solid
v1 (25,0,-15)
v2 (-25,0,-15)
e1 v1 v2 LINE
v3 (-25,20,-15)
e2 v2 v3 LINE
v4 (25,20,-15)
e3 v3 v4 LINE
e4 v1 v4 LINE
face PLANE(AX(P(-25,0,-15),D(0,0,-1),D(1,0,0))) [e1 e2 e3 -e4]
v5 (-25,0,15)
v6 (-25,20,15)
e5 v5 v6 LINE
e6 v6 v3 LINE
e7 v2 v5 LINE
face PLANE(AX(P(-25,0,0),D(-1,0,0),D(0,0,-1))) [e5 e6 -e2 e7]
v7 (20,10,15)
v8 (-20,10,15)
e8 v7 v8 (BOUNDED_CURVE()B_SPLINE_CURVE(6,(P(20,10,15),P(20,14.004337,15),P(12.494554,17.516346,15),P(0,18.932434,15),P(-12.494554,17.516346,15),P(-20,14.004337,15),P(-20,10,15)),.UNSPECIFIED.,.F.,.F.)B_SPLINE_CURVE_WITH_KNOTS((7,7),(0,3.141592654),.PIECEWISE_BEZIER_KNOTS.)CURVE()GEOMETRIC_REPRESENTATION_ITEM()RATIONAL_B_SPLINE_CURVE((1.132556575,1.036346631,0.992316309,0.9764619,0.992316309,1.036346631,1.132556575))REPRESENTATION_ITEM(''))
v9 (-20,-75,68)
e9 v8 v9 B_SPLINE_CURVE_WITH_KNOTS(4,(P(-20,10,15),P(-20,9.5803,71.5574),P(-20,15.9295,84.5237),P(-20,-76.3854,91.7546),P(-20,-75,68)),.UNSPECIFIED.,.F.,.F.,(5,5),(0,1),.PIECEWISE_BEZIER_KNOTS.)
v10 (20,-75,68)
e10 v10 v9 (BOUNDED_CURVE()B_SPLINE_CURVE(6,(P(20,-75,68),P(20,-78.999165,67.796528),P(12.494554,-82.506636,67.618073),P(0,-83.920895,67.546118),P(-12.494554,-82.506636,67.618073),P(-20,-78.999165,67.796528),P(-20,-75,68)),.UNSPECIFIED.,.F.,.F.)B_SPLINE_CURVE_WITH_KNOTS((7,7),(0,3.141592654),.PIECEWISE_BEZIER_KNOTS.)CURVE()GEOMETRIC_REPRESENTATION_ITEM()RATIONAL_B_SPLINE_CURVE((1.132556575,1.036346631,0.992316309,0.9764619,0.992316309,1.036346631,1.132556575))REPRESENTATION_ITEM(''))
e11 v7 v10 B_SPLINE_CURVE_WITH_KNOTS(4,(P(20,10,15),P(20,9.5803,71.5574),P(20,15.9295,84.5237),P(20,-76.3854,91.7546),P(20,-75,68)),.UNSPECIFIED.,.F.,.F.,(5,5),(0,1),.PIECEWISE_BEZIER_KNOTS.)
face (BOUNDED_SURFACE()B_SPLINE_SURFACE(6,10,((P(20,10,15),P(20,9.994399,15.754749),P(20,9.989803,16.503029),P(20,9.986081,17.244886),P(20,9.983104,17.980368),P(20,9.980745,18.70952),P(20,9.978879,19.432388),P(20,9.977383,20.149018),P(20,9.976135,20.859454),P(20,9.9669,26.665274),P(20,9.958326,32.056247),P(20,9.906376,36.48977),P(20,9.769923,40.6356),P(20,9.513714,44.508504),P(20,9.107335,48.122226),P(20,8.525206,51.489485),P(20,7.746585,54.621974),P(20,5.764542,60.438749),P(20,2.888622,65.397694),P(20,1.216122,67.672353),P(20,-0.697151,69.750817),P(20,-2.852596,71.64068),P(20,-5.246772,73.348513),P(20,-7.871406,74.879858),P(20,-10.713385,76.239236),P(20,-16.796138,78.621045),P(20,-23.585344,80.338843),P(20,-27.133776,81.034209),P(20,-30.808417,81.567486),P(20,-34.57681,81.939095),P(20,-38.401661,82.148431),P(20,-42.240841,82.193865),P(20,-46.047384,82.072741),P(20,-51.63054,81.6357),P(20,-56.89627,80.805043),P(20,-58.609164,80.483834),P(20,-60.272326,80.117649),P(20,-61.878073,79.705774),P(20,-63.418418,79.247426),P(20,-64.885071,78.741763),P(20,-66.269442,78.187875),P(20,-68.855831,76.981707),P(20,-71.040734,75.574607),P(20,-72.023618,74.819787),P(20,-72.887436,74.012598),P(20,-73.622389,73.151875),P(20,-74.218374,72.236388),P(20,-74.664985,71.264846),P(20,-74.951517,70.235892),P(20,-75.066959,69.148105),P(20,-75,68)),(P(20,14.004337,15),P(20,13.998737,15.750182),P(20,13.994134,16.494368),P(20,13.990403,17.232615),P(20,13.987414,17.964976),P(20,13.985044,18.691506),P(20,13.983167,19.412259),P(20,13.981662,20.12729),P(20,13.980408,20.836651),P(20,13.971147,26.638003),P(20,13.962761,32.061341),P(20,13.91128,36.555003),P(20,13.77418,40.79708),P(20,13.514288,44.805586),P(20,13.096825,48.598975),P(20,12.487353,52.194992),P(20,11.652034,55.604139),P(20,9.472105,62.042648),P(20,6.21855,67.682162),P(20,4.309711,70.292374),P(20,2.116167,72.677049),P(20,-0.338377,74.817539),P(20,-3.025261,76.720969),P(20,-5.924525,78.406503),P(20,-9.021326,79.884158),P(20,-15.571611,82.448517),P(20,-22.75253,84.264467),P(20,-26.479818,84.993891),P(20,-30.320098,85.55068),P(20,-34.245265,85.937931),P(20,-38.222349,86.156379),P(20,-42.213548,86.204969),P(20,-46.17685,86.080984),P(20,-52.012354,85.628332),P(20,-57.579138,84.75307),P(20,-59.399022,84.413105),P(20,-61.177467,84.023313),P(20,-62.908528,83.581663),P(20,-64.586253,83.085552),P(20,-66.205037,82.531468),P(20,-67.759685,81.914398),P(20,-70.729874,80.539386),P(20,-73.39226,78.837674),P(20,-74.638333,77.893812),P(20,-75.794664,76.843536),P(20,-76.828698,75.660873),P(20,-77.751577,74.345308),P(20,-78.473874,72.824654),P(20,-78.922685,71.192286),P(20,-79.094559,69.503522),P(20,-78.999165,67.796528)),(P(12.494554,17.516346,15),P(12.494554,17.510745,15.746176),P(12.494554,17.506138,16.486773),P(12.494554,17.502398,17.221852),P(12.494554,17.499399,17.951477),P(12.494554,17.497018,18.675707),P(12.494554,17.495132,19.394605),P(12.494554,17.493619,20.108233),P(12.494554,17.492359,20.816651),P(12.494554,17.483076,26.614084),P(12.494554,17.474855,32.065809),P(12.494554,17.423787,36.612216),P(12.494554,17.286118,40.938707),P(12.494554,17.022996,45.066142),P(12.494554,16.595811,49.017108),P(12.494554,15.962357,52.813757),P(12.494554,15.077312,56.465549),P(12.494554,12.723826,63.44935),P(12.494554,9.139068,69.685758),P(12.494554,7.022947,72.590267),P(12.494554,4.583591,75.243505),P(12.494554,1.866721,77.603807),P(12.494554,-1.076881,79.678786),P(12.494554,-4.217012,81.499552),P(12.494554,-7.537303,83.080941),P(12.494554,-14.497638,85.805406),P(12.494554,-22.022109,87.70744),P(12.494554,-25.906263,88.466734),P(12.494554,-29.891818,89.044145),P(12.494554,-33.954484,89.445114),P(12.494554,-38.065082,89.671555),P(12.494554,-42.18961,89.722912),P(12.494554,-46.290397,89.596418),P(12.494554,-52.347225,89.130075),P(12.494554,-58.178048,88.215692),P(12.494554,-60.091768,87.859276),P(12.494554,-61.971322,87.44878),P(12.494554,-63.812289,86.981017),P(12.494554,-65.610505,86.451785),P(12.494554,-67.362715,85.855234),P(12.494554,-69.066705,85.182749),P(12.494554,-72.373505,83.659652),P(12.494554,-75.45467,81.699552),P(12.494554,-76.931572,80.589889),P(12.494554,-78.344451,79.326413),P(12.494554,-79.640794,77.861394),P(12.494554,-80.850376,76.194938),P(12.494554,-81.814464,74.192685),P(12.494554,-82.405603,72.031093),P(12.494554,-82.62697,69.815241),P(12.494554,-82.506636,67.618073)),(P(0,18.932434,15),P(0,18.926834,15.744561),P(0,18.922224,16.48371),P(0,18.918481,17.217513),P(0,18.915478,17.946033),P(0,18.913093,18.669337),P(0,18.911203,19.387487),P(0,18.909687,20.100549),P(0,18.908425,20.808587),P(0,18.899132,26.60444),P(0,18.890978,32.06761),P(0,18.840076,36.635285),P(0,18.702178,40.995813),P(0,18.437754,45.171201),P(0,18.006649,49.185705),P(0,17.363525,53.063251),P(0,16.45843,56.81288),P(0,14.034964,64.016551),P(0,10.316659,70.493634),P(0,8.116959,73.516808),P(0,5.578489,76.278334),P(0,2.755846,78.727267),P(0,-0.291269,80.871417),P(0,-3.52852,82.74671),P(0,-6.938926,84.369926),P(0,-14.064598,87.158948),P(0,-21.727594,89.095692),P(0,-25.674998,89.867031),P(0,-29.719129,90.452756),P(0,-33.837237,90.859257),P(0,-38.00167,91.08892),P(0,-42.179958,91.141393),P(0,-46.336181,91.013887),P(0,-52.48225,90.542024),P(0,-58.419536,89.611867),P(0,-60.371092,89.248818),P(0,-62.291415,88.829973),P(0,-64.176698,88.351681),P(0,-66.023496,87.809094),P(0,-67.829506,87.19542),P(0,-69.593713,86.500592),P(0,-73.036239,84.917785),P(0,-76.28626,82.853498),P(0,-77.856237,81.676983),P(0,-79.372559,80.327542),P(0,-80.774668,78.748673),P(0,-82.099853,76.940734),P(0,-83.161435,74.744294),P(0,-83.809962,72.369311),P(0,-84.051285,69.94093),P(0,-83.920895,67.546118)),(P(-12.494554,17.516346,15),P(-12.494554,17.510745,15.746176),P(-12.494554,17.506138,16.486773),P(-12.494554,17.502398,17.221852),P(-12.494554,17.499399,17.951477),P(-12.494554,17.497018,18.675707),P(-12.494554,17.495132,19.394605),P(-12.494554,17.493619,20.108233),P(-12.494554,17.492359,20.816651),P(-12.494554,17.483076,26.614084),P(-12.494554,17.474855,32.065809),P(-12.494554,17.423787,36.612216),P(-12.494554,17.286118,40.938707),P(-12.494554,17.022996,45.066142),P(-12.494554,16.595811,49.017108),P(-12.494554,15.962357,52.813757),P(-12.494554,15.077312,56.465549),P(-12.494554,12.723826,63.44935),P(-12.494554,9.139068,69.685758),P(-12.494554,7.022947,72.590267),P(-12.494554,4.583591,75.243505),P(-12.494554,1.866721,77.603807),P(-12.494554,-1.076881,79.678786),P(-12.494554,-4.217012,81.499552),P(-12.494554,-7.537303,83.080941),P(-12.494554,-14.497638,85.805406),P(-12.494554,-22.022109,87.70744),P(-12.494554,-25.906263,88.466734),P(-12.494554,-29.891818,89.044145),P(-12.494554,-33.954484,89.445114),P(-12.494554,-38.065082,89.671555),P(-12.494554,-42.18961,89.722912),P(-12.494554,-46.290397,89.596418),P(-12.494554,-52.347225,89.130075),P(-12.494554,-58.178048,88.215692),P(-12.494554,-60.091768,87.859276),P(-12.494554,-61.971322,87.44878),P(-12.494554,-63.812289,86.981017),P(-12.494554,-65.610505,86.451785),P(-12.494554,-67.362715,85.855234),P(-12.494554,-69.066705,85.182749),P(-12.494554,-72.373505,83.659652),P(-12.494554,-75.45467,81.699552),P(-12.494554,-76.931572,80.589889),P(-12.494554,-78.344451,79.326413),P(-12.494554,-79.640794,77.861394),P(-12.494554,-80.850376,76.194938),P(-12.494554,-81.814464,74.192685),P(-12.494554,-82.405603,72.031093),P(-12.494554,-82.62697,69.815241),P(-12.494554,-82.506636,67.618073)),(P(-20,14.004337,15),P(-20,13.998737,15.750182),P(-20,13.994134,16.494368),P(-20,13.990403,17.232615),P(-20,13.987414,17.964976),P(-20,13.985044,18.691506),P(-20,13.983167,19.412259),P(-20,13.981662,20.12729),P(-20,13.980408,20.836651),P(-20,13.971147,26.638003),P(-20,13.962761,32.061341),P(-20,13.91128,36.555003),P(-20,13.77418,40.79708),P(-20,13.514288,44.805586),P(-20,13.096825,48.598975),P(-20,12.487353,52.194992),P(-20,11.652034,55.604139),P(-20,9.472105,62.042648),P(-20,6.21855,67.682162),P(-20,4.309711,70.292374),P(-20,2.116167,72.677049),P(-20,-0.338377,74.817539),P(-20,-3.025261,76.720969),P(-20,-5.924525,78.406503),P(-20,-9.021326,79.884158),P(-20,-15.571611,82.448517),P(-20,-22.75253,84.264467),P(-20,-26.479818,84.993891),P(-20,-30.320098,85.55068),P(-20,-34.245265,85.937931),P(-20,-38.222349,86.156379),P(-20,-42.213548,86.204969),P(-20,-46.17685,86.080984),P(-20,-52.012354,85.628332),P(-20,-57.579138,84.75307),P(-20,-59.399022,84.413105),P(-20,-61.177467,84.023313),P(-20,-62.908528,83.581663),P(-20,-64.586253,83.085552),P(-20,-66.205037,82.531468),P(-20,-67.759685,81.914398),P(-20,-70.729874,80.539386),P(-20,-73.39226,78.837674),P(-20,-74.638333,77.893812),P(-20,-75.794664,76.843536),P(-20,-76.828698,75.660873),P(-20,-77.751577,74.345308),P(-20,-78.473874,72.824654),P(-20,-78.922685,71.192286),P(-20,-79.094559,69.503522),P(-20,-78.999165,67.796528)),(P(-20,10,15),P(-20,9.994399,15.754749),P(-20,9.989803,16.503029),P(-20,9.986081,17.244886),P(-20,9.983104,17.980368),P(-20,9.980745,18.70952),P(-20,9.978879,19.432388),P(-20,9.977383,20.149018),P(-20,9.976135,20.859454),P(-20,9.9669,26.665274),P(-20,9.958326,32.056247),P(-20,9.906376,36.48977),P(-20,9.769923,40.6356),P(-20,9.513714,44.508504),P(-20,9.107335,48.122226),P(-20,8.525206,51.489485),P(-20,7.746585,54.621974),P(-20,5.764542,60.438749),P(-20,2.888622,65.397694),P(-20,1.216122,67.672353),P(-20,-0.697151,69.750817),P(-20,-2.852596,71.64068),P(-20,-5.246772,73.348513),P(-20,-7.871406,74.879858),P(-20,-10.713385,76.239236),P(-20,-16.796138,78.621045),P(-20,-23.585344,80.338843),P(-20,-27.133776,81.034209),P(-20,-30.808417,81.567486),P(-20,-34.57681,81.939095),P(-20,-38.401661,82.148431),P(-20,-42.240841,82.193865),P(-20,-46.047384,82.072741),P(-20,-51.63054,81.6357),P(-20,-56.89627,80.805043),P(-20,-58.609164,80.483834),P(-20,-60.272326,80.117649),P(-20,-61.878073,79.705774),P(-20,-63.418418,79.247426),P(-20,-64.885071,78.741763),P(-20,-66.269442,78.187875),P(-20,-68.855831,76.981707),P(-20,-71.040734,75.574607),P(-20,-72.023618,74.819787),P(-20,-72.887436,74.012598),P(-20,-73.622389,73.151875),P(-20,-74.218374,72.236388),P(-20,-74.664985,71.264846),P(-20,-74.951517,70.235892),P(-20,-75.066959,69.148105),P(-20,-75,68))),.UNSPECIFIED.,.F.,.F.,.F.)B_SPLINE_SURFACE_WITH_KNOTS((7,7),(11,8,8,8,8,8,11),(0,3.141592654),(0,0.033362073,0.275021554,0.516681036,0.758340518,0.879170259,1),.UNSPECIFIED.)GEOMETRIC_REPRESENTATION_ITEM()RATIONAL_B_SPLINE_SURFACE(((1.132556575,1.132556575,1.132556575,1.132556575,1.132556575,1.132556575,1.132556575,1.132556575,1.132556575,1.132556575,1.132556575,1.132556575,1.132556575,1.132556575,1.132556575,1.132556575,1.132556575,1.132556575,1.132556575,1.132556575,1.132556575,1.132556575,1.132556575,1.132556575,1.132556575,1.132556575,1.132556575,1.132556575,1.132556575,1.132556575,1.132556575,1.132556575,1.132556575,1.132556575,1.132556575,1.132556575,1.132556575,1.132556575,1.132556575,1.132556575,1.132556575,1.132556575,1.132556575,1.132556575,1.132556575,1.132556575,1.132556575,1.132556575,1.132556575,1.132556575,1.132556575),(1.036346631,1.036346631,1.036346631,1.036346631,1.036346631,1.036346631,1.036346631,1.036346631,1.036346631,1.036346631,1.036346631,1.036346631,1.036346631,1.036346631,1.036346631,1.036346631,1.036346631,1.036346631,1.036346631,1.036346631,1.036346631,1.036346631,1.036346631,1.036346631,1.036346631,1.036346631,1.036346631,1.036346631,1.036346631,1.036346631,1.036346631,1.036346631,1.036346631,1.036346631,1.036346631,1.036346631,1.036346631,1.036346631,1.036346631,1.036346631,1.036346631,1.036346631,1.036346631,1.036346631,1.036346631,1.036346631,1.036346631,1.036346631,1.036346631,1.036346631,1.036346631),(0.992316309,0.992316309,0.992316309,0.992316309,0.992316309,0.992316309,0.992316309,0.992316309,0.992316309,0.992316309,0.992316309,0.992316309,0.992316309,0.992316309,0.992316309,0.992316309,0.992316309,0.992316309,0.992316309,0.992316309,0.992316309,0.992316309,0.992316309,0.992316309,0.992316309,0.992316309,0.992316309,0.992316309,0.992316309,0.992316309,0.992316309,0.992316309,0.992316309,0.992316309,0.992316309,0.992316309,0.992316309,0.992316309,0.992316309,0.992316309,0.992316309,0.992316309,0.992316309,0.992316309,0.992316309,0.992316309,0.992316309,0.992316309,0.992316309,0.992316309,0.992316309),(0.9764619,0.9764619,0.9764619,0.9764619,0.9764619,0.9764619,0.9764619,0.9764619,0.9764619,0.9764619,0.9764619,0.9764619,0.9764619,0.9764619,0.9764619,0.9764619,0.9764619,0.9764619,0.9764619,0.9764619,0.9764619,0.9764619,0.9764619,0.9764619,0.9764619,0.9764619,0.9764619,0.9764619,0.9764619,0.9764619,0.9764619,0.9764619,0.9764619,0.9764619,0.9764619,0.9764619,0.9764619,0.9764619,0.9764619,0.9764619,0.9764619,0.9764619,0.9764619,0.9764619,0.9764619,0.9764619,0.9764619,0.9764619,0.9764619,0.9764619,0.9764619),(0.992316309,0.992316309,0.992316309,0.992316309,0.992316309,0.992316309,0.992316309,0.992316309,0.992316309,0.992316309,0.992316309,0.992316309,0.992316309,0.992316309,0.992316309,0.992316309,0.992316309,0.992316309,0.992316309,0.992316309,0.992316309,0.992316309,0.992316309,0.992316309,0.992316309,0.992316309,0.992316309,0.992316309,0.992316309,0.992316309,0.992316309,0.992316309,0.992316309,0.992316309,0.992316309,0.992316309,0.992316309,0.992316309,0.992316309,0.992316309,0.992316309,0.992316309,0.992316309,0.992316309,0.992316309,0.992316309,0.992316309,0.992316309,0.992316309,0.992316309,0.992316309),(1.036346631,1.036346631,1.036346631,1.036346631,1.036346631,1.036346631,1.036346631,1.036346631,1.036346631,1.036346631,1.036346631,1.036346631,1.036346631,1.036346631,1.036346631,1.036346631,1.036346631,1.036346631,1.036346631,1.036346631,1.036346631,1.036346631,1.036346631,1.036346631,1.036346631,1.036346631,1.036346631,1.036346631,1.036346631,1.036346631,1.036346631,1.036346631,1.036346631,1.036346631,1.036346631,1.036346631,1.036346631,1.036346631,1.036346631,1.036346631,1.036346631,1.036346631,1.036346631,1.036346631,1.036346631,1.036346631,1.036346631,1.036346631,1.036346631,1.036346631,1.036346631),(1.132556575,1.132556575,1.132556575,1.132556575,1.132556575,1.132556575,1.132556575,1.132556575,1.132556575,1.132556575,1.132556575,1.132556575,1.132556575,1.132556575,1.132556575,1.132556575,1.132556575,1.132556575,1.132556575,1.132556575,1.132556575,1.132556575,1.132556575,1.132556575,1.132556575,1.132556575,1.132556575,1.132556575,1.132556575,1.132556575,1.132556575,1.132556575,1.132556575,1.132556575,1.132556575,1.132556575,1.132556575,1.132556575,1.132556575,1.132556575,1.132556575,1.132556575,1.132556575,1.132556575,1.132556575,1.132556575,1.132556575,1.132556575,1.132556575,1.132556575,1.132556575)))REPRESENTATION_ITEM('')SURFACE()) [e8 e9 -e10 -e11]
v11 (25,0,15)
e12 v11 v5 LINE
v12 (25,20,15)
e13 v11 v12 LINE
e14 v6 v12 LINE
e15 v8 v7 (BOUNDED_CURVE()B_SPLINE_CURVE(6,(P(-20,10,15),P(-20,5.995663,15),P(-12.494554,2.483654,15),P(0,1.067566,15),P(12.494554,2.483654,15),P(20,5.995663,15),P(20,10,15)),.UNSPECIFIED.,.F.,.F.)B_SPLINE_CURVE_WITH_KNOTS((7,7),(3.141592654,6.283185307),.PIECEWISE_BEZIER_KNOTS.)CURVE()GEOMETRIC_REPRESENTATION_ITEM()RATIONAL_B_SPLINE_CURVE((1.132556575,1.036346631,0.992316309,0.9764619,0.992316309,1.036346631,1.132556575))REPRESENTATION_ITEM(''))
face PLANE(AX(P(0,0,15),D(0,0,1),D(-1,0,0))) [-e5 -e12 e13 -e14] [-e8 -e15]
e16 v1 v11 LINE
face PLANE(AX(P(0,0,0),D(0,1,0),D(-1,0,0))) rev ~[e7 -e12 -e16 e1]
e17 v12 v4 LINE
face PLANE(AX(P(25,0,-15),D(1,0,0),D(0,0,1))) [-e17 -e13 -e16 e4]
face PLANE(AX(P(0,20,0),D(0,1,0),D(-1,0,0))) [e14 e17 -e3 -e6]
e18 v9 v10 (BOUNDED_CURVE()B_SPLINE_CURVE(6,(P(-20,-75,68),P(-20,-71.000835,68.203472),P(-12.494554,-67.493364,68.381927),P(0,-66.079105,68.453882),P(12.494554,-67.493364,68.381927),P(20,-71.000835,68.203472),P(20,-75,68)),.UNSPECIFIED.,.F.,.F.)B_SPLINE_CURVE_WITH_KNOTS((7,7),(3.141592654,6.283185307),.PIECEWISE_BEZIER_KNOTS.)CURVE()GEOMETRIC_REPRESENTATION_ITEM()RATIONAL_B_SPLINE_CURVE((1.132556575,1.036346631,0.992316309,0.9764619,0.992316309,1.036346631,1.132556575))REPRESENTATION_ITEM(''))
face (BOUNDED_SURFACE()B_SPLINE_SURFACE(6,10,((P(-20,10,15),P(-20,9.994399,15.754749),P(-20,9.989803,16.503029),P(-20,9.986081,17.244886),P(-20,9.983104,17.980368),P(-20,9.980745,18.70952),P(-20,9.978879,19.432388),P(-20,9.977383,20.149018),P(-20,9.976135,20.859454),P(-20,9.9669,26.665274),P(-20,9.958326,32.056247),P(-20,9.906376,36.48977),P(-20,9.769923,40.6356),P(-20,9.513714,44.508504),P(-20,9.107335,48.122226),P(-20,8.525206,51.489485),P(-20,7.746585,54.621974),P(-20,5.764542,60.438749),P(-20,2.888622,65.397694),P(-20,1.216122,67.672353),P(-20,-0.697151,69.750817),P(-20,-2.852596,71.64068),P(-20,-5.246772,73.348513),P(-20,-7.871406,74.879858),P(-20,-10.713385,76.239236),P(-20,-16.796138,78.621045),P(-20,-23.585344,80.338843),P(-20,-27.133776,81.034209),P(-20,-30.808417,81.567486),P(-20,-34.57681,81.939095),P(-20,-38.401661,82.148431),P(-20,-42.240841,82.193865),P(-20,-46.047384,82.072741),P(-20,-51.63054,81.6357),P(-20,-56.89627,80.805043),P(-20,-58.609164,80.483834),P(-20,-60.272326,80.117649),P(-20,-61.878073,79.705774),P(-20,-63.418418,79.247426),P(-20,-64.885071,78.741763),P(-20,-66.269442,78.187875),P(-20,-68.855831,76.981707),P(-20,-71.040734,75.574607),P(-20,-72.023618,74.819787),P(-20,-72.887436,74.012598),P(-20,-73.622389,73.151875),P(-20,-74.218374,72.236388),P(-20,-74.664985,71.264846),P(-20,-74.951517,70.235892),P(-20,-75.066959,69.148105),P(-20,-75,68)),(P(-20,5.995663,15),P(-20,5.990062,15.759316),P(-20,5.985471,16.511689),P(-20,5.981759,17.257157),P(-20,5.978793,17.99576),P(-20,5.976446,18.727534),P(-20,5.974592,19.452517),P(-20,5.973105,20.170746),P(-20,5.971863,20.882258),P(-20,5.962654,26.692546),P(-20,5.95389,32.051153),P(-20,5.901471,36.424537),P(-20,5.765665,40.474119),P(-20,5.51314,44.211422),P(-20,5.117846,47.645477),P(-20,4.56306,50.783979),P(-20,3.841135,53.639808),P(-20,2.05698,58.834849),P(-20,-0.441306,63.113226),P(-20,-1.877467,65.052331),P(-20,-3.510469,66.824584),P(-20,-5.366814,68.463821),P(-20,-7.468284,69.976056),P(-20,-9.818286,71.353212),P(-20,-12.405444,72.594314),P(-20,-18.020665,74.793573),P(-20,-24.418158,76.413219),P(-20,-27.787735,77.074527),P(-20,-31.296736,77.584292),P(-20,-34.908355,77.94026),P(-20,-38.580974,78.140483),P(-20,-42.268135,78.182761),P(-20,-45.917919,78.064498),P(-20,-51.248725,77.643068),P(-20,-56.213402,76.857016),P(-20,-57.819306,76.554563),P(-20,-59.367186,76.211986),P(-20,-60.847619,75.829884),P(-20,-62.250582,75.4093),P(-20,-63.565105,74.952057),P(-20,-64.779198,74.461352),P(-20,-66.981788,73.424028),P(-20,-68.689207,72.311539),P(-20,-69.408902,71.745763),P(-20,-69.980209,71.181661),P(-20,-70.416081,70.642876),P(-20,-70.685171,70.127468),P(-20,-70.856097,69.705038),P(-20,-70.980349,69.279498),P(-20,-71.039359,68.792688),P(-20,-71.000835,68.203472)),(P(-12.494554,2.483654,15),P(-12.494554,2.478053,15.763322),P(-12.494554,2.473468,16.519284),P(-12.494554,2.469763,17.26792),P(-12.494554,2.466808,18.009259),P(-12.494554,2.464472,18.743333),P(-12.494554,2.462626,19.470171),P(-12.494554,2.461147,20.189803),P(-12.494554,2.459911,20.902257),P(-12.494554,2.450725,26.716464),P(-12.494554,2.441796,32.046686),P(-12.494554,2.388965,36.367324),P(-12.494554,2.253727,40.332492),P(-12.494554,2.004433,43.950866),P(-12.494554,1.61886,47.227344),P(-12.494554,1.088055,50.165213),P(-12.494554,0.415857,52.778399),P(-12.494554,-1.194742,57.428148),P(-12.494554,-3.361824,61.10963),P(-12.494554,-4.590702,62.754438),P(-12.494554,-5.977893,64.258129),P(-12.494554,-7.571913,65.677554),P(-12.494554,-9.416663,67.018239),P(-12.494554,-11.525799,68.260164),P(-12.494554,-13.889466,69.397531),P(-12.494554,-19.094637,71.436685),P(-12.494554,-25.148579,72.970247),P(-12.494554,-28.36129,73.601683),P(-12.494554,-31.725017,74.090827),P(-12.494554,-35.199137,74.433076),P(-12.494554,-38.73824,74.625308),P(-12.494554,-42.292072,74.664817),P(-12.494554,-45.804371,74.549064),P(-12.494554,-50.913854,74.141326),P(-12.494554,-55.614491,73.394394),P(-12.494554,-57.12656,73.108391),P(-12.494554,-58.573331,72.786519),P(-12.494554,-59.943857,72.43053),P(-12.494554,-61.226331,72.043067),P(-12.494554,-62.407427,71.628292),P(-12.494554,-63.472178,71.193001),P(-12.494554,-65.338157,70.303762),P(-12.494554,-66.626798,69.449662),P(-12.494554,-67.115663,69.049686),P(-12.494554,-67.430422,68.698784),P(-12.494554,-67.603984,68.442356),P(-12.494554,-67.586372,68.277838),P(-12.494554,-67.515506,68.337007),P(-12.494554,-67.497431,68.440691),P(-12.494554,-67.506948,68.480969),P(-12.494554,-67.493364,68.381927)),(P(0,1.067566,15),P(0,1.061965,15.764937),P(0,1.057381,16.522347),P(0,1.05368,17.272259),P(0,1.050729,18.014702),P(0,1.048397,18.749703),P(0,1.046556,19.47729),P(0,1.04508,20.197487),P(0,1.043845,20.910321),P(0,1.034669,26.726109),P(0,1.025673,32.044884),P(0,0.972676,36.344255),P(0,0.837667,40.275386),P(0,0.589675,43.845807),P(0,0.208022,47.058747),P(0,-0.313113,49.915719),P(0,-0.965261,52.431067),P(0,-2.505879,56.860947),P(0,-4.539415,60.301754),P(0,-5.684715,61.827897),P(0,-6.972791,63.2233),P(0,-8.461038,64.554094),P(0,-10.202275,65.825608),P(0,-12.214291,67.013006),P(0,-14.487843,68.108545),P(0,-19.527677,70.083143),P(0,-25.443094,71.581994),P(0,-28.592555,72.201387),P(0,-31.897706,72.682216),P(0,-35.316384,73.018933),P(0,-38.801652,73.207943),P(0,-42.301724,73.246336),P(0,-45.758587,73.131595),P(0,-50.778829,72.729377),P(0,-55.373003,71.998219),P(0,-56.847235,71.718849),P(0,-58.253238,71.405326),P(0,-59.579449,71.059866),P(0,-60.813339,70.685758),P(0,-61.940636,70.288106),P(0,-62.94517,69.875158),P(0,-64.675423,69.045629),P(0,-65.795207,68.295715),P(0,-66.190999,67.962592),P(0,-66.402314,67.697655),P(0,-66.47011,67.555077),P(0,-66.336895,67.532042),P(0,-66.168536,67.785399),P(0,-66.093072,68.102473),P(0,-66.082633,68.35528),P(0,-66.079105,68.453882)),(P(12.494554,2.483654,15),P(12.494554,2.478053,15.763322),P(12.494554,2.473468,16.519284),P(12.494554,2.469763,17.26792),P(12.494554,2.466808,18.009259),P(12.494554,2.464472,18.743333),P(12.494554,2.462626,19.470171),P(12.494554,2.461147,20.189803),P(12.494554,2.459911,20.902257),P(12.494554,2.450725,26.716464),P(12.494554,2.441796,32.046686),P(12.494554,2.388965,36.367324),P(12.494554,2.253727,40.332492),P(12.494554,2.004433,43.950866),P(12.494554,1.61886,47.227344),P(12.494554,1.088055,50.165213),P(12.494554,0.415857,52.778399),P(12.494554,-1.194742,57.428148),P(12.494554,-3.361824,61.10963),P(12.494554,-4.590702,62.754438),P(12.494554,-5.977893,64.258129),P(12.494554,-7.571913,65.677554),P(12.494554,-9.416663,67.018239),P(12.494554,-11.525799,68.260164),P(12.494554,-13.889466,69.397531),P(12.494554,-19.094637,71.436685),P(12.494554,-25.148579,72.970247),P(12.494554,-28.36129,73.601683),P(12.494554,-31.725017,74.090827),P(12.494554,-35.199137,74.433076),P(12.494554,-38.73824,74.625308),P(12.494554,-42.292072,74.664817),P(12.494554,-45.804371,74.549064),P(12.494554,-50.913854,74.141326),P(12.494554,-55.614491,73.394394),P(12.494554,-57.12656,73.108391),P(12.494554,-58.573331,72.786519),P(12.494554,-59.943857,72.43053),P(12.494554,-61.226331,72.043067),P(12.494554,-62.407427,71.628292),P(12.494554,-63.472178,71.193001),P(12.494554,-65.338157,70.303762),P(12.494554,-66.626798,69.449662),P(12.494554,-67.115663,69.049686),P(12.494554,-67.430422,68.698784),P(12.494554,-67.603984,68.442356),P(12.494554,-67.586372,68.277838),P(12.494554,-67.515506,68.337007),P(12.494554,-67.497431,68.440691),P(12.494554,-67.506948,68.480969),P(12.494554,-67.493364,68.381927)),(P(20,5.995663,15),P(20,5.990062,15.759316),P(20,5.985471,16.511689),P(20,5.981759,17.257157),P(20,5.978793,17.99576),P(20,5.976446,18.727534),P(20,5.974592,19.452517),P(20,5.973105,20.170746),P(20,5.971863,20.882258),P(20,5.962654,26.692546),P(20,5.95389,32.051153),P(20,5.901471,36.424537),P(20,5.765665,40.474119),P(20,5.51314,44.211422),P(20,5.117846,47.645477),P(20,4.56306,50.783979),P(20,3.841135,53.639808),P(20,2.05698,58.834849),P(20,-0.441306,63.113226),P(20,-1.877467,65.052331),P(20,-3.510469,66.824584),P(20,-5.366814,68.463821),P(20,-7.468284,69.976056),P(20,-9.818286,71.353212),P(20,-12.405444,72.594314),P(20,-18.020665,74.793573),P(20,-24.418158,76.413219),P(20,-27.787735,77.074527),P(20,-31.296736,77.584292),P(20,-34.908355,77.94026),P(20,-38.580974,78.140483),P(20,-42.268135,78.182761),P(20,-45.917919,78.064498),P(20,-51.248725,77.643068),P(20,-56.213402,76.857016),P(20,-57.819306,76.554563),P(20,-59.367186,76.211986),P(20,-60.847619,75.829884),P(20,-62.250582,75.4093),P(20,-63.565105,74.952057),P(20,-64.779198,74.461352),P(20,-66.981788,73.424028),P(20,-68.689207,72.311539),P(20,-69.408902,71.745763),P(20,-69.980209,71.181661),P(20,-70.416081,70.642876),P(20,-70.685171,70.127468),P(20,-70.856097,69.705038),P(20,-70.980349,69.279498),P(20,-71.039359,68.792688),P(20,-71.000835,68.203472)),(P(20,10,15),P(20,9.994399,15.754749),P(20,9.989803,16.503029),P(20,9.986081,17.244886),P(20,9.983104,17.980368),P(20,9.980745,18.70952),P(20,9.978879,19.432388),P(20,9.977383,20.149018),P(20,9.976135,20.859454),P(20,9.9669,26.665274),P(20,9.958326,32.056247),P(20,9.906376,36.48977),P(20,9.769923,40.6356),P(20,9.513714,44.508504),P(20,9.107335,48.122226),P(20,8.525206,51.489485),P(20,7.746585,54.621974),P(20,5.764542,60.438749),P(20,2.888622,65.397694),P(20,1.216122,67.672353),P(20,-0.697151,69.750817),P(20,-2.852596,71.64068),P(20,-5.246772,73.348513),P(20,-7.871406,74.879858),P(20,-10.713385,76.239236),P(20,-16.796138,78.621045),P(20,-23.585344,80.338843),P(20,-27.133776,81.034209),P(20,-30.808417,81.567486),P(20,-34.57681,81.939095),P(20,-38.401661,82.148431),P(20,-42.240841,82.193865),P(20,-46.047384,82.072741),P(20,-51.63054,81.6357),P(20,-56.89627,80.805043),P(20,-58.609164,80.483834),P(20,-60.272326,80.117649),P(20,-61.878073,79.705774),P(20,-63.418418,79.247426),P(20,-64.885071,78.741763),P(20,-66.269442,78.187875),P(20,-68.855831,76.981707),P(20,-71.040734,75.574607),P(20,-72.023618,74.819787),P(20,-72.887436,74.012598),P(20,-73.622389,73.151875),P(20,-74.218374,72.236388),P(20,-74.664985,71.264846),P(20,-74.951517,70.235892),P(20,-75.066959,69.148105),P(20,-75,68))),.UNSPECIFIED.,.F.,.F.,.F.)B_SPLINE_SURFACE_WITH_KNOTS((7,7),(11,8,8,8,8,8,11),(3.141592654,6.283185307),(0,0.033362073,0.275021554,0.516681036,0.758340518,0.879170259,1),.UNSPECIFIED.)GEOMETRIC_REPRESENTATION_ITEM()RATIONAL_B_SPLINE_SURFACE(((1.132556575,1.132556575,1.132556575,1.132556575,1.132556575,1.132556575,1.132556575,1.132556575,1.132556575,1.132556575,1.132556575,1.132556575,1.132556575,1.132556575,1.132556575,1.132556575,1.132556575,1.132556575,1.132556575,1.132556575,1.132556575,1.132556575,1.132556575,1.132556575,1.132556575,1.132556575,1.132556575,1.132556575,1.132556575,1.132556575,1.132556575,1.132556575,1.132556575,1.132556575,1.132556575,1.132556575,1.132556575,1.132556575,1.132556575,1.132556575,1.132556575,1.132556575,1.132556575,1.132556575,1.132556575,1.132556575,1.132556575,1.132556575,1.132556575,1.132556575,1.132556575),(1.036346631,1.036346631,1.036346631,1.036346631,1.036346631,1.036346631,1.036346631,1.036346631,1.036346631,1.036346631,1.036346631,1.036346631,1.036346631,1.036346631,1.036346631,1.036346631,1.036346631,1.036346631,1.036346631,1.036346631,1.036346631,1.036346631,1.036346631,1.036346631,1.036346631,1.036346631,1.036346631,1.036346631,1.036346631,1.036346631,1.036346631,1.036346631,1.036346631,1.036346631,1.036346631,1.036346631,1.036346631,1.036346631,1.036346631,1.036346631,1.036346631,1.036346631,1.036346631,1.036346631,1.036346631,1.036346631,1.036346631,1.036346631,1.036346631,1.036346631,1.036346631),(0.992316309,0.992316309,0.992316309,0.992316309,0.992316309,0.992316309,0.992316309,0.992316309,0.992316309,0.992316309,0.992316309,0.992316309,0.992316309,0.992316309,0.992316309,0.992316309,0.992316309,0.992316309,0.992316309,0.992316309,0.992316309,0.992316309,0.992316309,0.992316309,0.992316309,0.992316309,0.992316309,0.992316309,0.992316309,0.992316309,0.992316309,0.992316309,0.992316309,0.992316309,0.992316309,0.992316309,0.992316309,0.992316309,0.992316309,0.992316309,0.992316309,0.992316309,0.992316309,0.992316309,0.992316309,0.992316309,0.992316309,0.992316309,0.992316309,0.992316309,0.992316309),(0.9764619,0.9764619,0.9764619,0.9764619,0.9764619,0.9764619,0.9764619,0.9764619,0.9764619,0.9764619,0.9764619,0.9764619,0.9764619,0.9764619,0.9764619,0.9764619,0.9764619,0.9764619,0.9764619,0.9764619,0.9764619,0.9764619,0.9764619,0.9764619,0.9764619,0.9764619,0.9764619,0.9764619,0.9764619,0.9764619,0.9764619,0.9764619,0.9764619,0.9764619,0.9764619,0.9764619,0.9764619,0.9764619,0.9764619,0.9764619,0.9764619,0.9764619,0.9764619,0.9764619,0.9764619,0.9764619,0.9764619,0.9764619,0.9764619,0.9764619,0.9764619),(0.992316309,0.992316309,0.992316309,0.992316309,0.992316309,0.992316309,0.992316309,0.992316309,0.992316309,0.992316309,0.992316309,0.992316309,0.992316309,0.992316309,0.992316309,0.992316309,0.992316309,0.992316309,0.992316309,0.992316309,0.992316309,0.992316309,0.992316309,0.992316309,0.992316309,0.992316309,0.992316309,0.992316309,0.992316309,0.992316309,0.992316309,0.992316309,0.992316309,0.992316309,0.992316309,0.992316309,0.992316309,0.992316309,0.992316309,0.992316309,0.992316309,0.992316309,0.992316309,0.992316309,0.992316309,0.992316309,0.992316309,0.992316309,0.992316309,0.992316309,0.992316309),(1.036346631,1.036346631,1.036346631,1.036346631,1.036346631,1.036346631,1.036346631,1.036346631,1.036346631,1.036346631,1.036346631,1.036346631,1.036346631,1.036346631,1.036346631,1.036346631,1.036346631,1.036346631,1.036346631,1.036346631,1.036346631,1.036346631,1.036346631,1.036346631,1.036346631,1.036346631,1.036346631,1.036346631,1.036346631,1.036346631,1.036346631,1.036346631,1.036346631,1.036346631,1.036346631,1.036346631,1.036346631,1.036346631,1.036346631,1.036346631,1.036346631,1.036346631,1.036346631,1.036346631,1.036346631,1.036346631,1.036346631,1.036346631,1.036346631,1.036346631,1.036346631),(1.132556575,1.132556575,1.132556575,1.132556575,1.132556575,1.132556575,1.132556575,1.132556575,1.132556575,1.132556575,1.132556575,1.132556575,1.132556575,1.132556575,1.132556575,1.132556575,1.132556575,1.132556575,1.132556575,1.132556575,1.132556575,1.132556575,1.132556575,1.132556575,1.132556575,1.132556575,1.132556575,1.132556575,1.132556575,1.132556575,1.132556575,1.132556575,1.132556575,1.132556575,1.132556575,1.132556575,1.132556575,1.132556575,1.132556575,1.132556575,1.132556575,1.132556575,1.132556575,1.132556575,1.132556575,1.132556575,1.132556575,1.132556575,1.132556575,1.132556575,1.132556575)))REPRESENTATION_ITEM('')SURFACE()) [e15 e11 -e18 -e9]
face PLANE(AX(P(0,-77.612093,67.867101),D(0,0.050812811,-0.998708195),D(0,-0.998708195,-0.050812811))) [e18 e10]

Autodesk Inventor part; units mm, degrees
ref_plane "YZ Plane" through (0, 0, 0) normal (1, 0, 0) x (0, 1, 0)
ref_plane "XZ Plane" through (0, 0, 0) normal (0, 1, 0) x (-1, 0, 0)
sketch "Skizze1" plane through (0, 0, 0) normal (0, 1, 0) x (-1, 0, 0)
  line L0 (25, -15) -> (-25, -15)
  line L1 (-25, -15) -> (-25, 15)
  line L2 (-25, 15) -> (25, 15)
  line L3 (25, 15) -> (25, -15)
  line L4 (35, 0) -> (-35, 0) projected
  line L5 (0, -38.6491) -> (0, 126.8947) projected
  point P0 (0, 0)
  dimension "d0" = 50
  dimension "d1" = 30
extrude "Extrusion1" add sketch "Skizze1" along normal blind 20
ref_plane "Arbeitsebene1" through (-25, 0, 65) normal (0, 0, 1) x (1, 0, 0)
sketch "Skizze8" plane through (-25, 0, 15) normal (0, 0, 1) x (1, 0, 0)
  ellipse E0 centre (25, 10) end of major axis (45, 10) minor radius 7
  line L0 (50, 0) -> (50, 20) projected
  line L1 (50, 10) -> (0, 10)
  line L2 (0, 0) -> (0, 20) projected
  line L3 (50, 0) -> (0, 0) projected
  line L4 (0, 10) -> (50, 10)
  point P0 (25, 0)
  dimension "d25" = 20
  dimension "d26" = 7
  dimension "d38" = 10
sketch "Skizze9" plane through (0, 0, 0) normal (1, 0, 0) x (0, 1, 0)
  line L0 (0, 15) -> (20, 15) projected
  line L1 (-90, 68) -> (-60, 68) projected
  line L2 (-60, 68) -> (-90, 68) projected
  spline S0 degree 4 poles (10, 15) (9.5803, 71.5574) (15.9295, 84.5237) (-76.3854, 91.7546) (-75, 68) knots 0 0 0 0 0 1 1 1 1 1
  line L3 (10.1796, -9.2022) -> (9.8204, 39.2022) construction
  arc A0 (10.5195, 34.3212) -> (10.8062, -4.3113) centre (291.7825, 17.0911) ccw construction
  point P0 (0, 0)
  point P1 (-1.3064, 69.8283)
  point P2 (-48.271, 81.8124)
sweep "Sweeping5" add profiles "Skizze8" path "Skizze9" path curves S0 contours L1 E0 | E0 L1
properties part number "_3D-Druck"
